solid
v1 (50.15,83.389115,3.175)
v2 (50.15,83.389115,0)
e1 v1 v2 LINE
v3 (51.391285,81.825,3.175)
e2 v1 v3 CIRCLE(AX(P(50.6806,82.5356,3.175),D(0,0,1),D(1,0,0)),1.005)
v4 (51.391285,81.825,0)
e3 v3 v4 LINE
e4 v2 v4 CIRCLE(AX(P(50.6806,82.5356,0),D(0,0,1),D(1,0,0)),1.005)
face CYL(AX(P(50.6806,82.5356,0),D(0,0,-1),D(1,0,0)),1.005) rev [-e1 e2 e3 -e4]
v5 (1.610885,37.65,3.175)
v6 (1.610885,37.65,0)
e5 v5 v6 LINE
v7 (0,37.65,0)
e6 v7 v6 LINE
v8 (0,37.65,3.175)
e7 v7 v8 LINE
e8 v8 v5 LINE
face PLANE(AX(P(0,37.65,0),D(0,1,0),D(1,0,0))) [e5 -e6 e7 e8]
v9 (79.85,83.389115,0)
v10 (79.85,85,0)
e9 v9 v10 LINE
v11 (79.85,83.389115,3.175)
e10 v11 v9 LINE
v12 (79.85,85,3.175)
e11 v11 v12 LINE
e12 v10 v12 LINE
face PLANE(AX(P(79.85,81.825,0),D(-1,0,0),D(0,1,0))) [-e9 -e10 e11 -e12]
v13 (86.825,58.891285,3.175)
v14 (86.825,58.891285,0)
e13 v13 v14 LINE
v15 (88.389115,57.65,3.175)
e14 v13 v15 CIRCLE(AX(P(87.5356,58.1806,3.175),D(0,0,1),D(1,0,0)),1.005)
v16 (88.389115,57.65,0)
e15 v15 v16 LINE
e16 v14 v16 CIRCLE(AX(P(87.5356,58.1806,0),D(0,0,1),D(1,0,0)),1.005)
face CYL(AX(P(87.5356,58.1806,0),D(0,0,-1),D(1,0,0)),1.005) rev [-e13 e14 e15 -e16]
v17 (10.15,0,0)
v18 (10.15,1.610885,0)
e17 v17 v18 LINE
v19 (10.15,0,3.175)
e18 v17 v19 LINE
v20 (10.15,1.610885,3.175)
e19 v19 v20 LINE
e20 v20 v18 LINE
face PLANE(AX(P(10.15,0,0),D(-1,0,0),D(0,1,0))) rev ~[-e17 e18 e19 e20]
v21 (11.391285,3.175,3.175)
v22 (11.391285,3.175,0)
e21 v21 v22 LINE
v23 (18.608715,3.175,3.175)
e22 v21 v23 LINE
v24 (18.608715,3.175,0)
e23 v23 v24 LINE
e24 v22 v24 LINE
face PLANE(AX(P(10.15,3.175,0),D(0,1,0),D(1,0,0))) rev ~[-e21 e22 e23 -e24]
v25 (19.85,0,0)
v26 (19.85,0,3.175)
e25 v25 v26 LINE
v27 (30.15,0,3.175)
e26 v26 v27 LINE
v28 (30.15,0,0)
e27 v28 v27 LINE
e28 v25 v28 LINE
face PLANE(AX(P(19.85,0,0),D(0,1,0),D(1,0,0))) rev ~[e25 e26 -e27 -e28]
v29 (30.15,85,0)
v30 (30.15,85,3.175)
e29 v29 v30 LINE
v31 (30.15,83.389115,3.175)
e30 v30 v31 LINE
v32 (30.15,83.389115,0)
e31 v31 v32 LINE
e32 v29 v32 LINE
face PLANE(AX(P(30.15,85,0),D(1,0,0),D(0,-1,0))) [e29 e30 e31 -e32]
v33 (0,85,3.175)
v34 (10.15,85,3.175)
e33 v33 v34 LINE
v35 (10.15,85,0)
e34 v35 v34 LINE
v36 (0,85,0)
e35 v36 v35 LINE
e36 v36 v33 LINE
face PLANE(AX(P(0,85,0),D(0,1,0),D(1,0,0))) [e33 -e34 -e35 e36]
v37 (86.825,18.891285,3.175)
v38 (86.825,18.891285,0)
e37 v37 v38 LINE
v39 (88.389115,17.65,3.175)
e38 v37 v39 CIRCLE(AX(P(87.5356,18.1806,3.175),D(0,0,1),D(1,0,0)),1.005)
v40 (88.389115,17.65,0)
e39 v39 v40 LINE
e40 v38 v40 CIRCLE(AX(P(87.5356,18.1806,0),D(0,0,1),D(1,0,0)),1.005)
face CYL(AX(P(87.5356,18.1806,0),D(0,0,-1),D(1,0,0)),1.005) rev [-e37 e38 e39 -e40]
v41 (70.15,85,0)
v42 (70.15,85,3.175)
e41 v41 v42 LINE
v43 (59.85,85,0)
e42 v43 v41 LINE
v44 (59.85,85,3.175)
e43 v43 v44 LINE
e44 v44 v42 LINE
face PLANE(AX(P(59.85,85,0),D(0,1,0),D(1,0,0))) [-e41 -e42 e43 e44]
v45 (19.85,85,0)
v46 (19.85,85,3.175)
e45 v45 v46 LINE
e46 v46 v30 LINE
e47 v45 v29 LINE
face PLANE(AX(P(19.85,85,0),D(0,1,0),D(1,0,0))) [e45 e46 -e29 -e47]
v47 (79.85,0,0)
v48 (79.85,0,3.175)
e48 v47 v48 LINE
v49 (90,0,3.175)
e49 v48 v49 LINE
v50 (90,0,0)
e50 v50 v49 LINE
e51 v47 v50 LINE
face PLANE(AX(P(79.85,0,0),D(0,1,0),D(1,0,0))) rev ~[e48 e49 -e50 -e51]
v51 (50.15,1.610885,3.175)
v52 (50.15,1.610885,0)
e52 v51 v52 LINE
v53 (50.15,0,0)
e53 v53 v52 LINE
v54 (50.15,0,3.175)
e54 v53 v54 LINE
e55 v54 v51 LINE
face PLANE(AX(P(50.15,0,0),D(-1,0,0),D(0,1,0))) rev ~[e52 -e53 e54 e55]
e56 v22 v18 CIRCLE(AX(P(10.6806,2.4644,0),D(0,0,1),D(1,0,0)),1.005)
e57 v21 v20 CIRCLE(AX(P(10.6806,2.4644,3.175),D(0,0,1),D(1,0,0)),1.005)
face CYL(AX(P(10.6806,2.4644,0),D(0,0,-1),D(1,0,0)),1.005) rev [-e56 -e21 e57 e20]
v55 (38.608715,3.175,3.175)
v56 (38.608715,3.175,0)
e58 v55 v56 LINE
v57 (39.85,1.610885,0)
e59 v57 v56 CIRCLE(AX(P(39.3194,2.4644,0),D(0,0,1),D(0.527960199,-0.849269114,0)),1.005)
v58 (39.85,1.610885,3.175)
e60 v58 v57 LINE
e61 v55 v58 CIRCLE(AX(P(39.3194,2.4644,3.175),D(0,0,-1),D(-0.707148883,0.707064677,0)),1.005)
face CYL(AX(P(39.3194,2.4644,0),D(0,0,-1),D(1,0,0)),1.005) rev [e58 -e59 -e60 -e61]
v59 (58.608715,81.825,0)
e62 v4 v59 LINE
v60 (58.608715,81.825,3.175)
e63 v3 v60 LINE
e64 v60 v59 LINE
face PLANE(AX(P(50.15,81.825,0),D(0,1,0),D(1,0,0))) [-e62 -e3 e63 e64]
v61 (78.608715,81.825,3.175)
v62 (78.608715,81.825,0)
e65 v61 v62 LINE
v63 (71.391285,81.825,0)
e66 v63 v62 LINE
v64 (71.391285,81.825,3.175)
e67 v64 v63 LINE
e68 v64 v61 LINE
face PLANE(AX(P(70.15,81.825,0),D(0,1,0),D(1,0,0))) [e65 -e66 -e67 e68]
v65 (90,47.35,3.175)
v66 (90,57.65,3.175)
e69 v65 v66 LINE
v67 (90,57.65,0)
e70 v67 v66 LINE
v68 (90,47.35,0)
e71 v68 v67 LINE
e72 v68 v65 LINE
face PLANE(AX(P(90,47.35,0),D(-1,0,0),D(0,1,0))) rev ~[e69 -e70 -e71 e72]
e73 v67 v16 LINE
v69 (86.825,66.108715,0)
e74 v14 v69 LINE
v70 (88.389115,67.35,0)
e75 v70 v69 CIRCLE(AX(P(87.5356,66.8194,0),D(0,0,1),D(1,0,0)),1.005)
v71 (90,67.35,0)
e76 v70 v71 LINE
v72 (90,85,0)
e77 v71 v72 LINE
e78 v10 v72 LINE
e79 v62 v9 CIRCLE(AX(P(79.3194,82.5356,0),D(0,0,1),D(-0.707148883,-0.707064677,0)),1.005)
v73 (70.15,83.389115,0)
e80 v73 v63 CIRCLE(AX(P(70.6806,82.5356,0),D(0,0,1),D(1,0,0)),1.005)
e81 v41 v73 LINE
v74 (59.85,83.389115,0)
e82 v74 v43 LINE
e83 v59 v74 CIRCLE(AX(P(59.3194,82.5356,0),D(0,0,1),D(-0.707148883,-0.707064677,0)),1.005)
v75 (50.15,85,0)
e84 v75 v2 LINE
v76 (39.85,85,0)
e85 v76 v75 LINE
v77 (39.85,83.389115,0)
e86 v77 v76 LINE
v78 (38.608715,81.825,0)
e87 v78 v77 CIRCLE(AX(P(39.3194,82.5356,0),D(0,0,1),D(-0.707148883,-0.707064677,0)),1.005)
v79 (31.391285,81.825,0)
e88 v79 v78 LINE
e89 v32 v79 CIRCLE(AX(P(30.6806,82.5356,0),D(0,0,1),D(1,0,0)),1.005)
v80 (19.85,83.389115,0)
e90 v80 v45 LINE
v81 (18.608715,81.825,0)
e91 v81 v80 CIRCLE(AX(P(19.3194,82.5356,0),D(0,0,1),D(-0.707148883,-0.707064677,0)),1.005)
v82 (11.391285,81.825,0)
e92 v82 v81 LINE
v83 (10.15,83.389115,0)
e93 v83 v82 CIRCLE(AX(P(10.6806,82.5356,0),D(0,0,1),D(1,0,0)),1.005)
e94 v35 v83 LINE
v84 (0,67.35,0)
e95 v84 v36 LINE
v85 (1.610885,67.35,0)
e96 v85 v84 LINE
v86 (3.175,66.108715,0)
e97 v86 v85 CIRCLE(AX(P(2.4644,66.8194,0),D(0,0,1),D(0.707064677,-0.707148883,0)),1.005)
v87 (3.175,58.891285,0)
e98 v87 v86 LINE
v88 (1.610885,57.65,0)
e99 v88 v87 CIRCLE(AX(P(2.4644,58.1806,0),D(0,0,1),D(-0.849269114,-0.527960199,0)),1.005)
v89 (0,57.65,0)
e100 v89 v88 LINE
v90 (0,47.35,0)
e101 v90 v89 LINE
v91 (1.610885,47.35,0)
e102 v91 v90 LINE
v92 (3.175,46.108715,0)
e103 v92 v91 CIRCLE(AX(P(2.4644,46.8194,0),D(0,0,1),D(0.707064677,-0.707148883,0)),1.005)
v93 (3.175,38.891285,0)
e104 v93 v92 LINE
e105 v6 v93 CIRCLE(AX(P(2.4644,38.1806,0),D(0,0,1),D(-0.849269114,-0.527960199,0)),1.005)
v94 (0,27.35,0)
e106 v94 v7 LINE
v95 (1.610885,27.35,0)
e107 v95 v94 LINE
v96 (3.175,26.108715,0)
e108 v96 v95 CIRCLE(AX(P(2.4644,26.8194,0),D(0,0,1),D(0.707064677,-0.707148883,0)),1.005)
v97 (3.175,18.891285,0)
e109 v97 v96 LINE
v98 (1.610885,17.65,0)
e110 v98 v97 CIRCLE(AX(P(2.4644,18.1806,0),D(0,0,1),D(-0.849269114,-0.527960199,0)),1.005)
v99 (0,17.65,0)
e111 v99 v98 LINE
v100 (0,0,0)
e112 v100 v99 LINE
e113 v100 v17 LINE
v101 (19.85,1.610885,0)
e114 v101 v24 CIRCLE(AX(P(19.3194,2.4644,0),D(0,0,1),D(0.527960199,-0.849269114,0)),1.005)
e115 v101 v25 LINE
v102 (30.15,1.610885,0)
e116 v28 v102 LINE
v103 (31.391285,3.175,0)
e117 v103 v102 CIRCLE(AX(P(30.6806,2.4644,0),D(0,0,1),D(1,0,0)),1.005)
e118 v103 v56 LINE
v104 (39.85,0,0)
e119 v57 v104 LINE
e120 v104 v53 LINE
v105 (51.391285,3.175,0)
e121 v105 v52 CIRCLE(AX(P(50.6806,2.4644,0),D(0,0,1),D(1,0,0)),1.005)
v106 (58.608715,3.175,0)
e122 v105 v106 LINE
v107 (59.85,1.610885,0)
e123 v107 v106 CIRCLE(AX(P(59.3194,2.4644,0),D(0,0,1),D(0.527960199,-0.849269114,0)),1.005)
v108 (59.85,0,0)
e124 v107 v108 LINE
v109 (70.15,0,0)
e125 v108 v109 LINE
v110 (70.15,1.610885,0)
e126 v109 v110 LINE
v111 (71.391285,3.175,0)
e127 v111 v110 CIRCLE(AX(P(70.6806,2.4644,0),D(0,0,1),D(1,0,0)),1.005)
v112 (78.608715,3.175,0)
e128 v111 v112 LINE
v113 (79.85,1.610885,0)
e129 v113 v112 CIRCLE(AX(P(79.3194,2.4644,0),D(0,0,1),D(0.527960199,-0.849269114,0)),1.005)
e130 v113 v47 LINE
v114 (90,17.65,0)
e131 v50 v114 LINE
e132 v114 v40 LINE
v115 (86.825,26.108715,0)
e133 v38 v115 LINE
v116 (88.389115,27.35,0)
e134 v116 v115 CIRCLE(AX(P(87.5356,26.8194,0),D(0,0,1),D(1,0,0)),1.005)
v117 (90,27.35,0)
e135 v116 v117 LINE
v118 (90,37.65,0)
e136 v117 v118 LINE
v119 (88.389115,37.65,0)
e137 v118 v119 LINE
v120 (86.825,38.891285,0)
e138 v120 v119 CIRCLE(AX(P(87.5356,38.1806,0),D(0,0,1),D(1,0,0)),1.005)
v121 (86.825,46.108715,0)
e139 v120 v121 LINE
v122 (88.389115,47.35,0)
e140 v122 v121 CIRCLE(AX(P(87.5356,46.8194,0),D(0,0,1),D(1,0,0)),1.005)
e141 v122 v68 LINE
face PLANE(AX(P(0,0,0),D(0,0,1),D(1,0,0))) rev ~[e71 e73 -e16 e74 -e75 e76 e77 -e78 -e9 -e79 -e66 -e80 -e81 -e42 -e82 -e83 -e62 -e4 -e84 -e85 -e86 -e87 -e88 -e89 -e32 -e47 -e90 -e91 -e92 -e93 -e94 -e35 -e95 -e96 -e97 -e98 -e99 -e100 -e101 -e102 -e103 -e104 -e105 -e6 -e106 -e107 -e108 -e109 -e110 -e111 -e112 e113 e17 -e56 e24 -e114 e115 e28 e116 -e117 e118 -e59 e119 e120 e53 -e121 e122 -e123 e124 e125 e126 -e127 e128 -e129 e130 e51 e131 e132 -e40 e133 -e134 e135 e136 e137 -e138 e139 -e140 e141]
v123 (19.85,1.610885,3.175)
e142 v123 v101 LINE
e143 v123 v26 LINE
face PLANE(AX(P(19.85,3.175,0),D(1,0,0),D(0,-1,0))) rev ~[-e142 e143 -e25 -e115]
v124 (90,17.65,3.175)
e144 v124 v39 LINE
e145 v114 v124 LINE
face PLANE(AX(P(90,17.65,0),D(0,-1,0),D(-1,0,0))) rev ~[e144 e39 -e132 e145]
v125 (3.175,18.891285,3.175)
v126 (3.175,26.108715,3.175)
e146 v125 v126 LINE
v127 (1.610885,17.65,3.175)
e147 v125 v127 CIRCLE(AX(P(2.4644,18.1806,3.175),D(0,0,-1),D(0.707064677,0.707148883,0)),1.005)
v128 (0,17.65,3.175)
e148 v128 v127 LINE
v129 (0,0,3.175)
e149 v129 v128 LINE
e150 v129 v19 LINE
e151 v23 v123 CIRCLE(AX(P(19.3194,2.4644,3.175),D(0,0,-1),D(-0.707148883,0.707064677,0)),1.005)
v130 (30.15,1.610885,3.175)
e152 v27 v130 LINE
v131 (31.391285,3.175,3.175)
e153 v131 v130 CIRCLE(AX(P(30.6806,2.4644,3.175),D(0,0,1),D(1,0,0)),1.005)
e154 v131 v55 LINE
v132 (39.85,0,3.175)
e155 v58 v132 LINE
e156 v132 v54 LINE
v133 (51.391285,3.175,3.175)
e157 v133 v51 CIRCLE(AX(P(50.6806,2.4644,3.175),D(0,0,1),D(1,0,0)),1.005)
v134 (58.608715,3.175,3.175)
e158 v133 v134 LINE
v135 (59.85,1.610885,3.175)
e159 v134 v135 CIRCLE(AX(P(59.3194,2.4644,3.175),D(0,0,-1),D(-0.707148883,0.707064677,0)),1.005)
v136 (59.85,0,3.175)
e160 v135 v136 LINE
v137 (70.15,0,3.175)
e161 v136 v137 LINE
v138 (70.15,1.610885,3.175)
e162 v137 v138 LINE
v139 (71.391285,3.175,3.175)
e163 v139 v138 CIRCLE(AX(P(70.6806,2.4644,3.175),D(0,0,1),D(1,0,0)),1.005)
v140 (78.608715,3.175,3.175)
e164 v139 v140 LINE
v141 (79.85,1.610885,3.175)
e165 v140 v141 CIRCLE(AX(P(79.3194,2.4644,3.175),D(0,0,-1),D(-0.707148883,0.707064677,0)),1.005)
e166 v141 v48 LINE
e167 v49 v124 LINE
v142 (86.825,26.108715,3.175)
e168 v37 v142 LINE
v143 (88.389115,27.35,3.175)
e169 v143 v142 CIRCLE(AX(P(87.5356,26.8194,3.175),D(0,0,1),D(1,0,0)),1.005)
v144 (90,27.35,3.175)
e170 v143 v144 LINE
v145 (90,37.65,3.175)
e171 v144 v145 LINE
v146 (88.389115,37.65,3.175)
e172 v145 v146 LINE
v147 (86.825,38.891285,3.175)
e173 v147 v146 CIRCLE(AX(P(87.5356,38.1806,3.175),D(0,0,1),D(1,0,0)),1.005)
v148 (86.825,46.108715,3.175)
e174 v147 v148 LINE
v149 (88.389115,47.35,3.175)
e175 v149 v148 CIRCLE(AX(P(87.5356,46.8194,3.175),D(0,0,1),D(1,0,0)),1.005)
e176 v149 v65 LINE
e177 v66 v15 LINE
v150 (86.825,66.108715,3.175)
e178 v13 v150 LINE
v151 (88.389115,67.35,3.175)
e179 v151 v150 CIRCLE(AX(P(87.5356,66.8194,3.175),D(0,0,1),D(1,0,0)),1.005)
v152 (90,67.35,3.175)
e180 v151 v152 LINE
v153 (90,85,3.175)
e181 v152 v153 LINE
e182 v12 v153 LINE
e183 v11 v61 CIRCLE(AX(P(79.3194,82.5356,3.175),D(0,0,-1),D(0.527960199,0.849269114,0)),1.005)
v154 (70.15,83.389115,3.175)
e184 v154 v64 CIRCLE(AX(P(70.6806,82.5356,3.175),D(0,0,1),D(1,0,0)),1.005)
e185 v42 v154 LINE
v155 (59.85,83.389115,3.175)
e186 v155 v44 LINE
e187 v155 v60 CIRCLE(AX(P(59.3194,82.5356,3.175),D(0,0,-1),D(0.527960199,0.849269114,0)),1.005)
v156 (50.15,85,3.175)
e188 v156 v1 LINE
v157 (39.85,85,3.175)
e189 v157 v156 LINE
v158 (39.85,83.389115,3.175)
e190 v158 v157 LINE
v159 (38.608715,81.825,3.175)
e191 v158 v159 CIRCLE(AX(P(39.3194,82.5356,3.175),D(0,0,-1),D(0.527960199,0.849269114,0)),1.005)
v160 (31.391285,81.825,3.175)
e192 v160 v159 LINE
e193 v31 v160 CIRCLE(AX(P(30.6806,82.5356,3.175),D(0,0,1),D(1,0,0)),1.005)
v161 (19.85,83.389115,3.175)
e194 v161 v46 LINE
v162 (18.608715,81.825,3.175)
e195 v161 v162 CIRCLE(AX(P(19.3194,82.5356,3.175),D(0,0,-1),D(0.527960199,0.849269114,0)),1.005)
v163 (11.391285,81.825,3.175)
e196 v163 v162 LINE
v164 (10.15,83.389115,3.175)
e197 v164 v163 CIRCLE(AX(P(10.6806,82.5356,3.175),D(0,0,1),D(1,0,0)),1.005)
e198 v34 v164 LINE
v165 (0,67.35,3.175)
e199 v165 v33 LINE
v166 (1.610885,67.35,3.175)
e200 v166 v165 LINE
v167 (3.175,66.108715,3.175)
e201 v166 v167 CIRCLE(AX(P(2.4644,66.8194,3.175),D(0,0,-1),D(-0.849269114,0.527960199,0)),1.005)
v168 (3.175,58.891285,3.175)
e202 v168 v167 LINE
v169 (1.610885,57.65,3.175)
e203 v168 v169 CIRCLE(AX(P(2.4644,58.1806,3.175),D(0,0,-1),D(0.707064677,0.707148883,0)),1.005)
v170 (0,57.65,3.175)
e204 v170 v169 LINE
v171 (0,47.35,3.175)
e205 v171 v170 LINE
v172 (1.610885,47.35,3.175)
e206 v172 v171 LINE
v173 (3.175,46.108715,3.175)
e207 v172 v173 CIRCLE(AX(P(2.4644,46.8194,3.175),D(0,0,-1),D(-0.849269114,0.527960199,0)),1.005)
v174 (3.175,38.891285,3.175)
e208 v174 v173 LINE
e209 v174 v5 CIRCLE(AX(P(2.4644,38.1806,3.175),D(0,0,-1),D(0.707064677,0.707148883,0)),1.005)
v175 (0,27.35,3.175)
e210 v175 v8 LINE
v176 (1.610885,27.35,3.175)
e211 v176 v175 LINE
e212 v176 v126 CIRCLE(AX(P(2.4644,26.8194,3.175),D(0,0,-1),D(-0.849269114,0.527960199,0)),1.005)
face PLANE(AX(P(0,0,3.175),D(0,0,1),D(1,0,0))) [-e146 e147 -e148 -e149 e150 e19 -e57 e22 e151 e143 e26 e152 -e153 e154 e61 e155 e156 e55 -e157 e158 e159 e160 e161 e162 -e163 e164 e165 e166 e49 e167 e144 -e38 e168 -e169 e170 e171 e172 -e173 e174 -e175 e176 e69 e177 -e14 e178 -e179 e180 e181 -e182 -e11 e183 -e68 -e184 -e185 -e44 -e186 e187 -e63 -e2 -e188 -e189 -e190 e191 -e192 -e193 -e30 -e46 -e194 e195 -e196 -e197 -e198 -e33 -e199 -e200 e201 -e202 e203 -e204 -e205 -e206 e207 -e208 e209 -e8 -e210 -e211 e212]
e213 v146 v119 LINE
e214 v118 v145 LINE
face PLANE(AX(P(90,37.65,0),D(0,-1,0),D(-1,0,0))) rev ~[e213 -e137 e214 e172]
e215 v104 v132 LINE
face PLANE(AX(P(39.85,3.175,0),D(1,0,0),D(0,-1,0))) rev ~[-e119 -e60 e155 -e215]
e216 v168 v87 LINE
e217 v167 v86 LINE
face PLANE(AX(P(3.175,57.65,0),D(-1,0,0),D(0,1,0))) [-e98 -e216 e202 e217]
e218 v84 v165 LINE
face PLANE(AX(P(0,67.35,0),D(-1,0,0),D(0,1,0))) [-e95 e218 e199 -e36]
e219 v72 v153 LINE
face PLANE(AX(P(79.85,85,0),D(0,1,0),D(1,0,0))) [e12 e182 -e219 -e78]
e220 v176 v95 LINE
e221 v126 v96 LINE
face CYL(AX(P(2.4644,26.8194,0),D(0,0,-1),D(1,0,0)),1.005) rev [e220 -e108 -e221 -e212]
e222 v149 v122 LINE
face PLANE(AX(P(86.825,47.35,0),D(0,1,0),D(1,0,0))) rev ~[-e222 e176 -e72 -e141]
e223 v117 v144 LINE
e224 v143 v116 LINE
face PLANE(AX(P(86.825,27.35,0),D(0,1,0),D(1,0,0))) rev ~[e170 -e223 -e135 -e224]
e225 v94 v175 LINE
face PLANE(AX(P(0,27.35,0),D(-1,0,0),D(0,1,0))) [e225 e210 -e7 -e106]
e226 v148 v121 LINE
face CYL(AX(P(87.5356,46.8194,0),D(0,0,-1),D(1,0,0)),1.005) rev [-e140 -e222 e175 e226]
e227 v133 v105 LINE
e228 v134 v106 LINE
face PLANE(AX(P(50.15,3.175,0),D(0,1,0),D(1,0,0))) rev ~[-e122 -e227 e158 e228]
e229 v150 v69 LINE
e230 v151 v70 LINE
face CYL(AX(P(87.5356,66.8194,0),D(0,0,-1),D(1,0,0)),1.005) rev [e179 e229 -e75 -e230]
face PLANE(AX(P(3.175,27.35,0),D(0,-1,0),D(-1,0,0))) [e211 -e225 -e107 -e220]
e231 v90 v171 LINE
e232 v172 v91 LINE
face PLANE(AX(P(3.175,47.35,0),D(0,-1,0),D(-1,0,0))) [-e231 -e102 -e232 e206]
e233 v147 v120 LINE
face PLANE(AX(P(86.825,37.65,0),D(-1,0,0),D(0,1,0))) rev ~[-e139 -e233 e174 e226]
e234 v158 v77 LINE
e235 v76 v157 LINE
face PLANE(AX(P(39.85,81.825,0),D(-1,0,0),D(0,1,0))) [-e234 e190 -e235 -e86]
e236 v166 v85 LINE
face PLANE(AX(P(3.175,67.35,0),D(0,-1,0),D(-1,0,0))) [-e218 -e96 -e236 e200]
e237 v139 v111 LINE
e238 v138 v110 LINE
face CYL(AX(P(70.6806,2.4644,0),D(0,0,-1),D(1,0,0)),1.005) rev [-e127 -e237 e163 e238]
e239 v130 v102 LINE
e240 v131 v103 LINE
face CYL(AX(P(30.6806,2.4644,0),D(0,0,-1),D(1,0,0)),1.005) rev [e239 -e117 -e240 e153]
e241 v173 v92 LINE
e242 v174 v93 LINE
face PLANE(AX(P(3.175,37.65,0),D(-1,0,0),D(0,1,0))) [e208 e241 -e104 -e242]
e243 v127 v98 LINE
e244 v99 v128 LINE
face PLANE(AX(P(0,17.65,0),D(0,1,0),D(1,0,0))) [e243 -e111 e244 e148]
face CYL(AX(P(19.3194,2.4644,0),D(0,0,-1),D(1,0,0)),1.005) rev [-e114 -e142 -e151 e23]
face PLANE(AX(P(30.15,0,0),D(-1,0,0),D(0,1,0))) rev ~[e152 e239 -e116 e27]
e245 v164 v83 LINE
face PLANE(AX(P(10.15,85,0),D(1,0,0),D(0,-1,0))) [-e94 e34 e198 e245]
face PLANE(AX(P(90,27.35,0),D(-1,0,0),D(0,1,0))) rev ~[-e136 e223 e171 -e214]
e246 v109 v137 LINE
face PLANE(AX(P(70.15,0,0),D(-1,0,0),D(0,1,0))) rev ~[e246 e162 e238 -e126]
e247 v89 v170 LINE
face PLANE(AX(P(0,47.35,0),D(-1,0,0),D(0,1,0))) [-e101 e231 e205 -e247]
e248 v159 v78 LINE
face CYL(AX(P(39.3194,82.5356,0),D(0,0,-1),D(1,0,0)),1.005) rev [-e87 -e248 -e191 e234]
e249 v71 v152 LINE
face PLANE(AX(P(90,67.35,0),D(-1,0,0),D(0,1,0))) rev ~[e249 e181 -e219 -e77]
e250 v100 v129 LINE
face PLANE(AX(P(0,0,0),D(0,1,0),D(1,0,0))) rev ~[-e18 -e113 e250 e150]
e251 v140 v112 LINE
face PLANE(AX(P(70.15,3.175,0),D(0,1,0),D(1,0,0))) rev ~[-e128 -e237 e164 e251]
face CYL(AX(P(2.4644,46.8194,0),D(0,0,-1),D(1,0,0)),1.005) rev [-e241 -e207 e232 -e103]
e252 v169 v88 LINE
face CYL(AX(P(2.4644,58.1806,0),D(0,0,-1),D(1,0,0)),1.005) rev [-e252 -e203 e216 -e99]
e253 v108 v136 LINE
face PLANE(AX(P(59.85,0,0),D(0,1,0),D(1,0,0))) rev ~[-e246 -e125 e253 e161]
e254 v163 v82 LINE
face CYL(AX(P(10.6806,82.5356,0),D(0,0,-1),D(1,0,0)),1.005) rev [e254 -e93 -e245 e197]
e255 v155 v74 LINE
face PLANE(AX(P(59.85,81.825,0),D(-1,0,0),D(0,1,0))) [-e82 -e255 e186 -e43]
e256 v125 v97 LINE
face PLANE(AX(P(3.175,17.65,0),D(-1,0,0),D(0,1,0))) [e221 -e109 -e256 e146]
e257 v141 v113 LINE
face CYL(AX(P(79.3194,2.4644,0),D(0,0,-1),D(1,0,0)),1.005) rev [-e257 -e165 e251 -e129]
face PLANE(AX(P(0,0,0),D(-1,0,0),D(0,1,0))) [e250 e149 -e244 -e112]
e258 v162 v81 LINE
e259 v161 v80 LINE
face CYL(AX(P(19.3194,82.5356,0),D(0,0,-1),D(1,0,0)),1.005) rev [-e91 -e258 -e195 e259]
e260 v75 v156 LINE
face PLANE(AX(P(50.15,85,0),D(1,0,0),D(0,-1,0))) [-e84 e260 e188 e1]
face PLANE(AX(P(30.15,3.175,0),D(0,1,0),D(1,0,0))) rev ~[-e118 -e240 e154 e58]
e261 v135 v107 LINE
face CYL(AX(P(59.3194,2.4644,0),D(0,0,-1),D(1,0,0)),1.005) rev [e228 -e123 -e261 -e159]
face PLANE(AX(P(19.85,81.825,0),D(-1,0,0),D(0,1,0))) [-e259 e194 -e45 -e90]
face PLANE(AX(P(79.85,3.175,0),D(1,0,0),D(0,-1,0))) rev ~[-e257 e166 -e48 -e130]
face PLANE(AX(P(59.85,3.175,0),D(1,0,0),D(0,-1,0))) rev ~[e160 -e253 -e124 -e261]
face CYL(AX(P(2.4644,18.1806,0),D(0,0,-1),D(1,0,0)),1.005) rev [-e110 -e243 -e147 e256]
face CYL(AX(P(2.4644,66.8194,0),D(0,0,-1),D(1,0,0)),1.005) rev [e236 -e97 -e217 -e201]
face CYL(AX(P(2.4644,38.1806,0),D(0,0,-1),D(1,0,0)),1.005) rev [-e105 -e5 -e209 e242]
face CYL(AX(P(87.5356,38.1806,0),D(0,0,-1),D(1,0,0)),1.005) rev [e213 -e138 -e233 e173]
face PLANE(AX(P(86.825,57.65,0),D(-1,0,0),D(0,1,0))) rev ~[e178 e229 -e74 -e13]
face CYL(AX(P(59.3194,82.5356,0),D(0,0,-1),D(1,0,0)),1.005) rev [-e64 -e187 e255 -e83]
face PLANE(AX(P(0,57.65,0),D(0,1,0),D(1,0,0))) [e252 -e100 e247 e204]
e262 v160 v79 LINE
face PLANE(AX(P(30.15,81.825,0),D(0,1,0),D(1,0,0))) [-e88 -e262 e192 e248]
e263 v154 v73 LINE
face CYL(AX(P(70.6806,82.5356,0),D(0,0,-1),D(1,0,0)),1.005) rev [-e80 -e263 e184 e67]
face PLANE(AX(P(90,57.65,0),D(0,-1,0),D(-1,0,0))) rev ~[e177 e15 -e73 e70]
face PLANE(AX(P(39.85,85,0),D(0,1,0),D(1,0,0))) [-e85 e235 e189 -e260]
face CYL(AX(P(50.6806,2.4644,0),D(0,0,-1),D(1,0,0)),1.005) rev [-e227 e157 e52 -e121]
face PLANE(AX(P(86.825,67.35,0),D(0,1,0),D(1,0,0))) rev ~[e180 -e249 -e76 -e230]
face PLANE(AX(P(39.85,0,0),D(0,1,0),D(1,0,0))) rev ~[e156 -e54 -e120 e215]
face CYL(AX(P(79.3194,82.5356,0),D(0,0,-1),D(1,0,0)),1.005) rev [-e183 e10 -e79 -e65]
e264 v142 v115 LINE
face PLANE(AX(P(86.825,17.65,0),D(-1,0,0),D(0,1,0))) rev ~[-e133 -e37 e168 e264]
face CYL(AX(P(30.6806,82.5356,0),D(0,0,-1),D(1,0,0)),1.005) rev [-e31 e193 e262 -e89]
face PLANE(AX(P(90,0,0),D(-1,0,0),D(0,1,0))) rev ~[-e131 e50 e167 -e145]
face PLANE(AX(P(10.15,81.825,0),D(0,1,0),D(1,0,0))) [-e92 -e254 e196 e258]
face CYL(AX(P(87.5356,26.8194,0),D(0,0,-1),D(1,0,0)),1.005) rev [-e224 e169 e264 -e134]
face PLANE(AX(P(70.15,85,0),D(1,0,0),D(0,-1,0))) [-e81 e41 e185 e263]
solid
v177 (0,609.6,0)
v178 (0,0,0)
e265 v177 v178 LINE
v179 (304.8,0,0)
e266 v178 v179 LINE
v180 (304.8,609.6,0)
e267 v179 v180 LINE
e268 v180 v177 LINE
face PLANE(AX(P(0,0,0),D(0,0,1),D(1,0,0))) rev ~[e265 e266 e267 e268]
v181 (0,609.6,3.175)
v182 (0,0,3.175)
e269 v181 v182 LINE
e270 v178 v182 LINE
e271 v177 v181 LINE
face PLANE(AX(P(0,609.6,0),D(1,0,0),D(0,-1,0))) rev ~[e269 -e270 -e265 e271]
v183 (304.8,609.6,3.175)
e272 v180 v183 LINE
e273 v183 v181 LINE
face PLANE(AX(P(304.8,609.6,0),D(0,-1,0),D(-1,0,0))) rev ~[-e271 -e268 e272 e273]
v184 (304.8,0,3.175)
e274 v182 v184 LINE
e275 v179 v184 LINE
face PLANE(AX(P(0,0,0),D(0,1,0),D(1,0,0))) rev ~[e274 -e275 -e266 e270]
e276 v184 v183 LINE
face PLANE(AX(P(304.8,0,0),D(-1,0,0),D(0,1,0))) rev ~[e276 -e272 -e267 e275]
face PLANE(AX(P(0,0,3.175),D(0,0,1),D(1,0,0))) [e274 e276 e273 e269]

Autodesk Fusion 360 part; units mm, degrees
sketch "b  stock" plane through (0, 0, 0) normal (0, 0, 1) x (1, 0, 0)
  line L0 (0, 0) -> (304.8, 0)
  line L1 (304.8, 0) -> (304.8, 609.6)
  line L2 (304.8, 609.6) -> (0, 609.6)
  line L3 (0, 609.6) -> (0, 0)
extrude "b  stock body extrude Feature" add sketch "b  stock" along normal blind 3.175 makes body 1
sketch "b  layout" plane through (0, 0, 0) normal (0, 0, 1) x (1, 0, 0)
  line L0 (0, 0) -> (90, 0)
  line L1 (90, 0) -> (90, 85)
  line L2 (90, 85) -> (0, 85)
  line L3 (0, 85) -> (0, 0)
  line L4 (92.01, 0) -> (182.01, 0)
  line L5 (182.01, 0) -> (182.01, 85)
  line L6 (182.01, 85) -> (92.01, 85)
  line L7 (92.01, 85) -> (92.01, 0)
  line L8 (184.02, 0) -> (234.02, 0)
  line L9 (234.02, 0) -> (234.02, 85)
  line L10 (234.02, 85) -> (184.02, 85)
  line L11 (184.02, 85) -> (184.02, 0)
  line L12 (236.03, 0) -> (286.03, 0)
  line L13 (286.03, 0) -> (286.03, 85)
  line L14 (286.03, 85) -> (236.03, 85)
  line L15 (236.03, 85) -> (236.03, 0)
  line L16 (0, 87.01) -> (90, 87.01)
  line L17 (90, 87.01) -> (90, 137.01)
  line L18 (90, 137.01) -> (0, 137.01)
  line L19 (0, 137.01) -> (0, 87.01)
  line L20 (92.01, 87.01) -> (182.01, 87.01)
  line L21 (182.01, 87.01) -> (182.01, 137.01)
  line L22 (182.01, 137.01) -> (92.01, 137.01)
  line L23 (92.01, 137.01) -> (92.01, 87.01)
sketch "b top lines" plane through (0, 0, 0) normal (0, 0, 1) x (1, 0, 0)
  line L0 (0, 0) -> (10.15, 0)
  line L1 (10.15, 0) -> (10.15, 3.175)
  line L2 (10.15, 3.175) -> (19.85, 3.175)
  line L3 (19.85, 3.175) -> (19.85, 0)
  line L4 (19.85, 0) -> (30.15, 0)
  line L5 (30.15, 0) -> (30.15, 3.175)
  line L6 (30.15, 3.175) -> (39.85, 3.175)
  line L7 (39.85, 3.175) -> (39.85, 0)
  line L8 (39.85, 0) -> (50.15, 0)
  line L9 (50.15, 0) -> (50.15, 3.175)
  line L10 (50.15, 3.175) -> (59.85, 3.175)
  line L11 (59.85, 3.175) -> (59.85, 0)
  line L12 (59.85, 0) -> (70.15, 0)
  line L13 (70.15, 0) -> (70.15, 3.175)
  line L14 (70.15, 3.175) -> (79.85, 3.175)
  line L15 (79.85, 3.175) -> (79.85, 0)
  line L16 (79.85, 0) -> (90, 0)
  line L17 (90, 0) -> (90, 17.65)
  line L18 (90, 17.65) -> (86.825, 17.65)
  line L19 (86.825, 17.65) -> (86.825, 27.35)
  line L20 (86.825, 27.35) -> (90, 27.35)
  line L21 (90, 27.35) -> (90, 37.65)
  line L22 (90, 37.65) -> (86.825, 37.65)
  line L23 (86.825, 37.65) -> (86.825, 47.35)
  line L24 (86.825, 47.35) -> (90, 47.35)
  line L25 (90, 47.35) -> (90, 57.65)
  line L26 (90, 57.65) -> (86.825, 57.65)
  line L27 (86.825, 57.65) -> (86.825, 67.35)
  line L28 (86.825, 67.35) -> (90, 67.35)
  line L29 (90, 67.35) -> (90, 85)
  line L30 (0, 85) -> (10.15, 85)
  line L31 (10.15, 85) -> (10.15, 81.825)
  line L32 (10.15, 81.825) -> (19.85, 81.825)
  line L33 (19.85, 81.825) -> (19.85, 85)
  line L34 (19.85, 85) -> (30.15, 85)
  line L35 (30.15, 85) -> (30.15, 81.825)
  line L36 (30.15, 81.825) -> (39.85, 81.825)
  line L37 (39.85, 81.825) -> (39.85, 85)
  line L38 (39.85, 85) -> (50.15, 85)
  line L39 (50.15, 85) -> (50.15, 81.825)
  line L40 (50.15, 81.825) -> (59.85, 81.825)
  line L41 (59.85, 81.825) -> (59.85, 85)
  line L42 (59.85, 85) -> (70.15, 85)
  line L43 (70.15, 85) -> (70.15, 81.825)
  line L44 (70.15, 81.825) -> (79.85, 81.825)
  line L45 (79.85, 81.825) -> (79.85, 85)
  line L46 (79.85, 85) -> (90, 85)
  line L47 (0, 0) -> (0, 17.65)
  line L48 (0, 17.65) -> (3.175, 17.65)
  line L49 (3.175, 17.65) -> (3.175, 27.35)
  line L50 (3.175, 27.35) -> (0, 27.35)
  line L51 (0, 27.35) -> (0, 37.65)
  line L52 (0, 37.65) -> (3.175, 37.65)
  line L53 (3.175, 37.65) -> (3.175, 47.35)
  line L54 (3.175, 47.35) -> (0, 47.35)
  line L55 (0, 47.35) -> (0, 57.65)
  line L56 (0, 57.65) -> (3.175, 57.65)
  line L57 (3.175, 57.65) -> (3.175, 67.35)
  line L58 (3.175, 67.35) -> (0, 67.35)
  line L59 (0, 67.35) -> (0, 85)
sketch "b top circles" plane through (0, 0, 0) normal (0, 0, 1) x (1, 0, 0)
  circle A0 centre (10.6806, 2.4644) radius 1.005
  circle A1 centre (19.3194, 2.4644) radius 1.005
  circle A2 centre (30.6806, 2.4644) radius 1.005
  circle A3 centre (39.3194, 2.4644) radius 1.005
  circle A4 centre (50.6806, 2.4644) radius 1.005
  circle A5 centre (59.3194, 2.4644) radius 1.005
  circle A6 centre (70.6806, 2.4644) radius 1.005
  circle A7 centre (79.3194, 2.4644) radius 1.005
  circle A8 centre (87.5356, 18.1806) radius 1.005
  circle A9 centre (87.5356, 26.8194) radius 1.005
  circle A10 centre (87.5356, 38.1806) radius 1.005
  circle A11 centre (87.5356, 46.8194) radius 1.005
  circle A12 centre (87.5356, 58.1806) radius 1.005
  circle A13 centre (87.5356, 66.8194) radius 1.005
  circle A14 centre (10.6806, 82.5356) radius 1.005
  circle A15 centre (19.3194, 82.5356) radius 1.005
  circle A16 centre (30.6806, 82.5356) radius 1.005
  circle A17 centre (39.3194, 82.5356) radius 1.005
  circle A18 centre (50.6806, 82.5356) radius 1.005
  circle A19 centre (59.3194, 82.5356) radius 1.005
  circle A20 centre (70.6806, 82.5356) radius 1.005
  circle A21 centre (79.3194, 82.5356) radius 1.005
  circle A22 centre (2.4644, 18.1806) radius 1.005
  circle A23 centre (2.4644, 26.8194) radius 1.005
  circle A24 centre (2.4644, 38.1806) radius 1.005
  circle A25 centre (2.4644, 46.8194) radius 1.005
  circle A26 centre (2.4644, 58.1806) radius 1.005
  circle A27 centre (2.4644, 66.8194) radius 1.005
extrude "b top lines lines extrude Feature" add sketch "b top lines" along normal blind 3.175 separate body makes body 2
extrude "b top circles circles extrude Feature" add sketch "b top circles" along normal blind 3.175 separate body makes body 3 at (3.4644, 58.0806, 2.1167) makes body 4 at (3.4644, 38.0806, 2.1167) makes body 5 at (3.4644, 18.0806, 2.1167) makes body 6 at (69.7363, 82.8794, 2.1167) makes body 7 at (49.7363, 82.8794, 2.1167) makes body 8 at (31.6067, 82.926, 2.1167) makes body 9 at (9.7363, 82.8794, 2.1167) makes body 10 at (86.5913, 67.1631, 2.1167) makes body 11 at (87.2156, 45.8667, 1.0583) makes body 12 at (87.2156, 25.8667, 1.0583) makes body 13 at (78.9993, 1.5117, 1.0583) makes body 14 at (59.2943, 3.469, 2.1167) makes body 15 at (39.2943, 3.469, 2.1167) makes body 16 at (20.3194, 2.3643, 2.1167) makes body 17 at (31.6806, 2.3643, 2.1167) makes body 18 at (50.6556, 3.469, 2.1167) makes body 19 at (70.3606, 1.5117, 1.0583) makes body 20 at (87.2156, 17.228, 1.0583) makes body 21 at (87.2156, 37.228, 1.0583) makes body 22 at (87.2156, 57.228, 1.0583) makes body 23 at (11.6806, 2.3643, 2.1167) makes body 24 at (20.2454, 82.926, 2.1167) makes body 25 at (38.375, 82.8794, 2.1167) makes body 26 at (58.375, 82.8794, 2.1167) makes body 27 at (78.375, 82.8794, 2.1167) makes body 28 at (3.4644, 26.7193, 2.1167) makes body 29 at (3.4644, 46.7193, 2.1167) makes body 30 at (3.3904, 67.2097, 2.1167)
combine "b top lines final combine feature" operation cut target body 2 tool bodies 3 4 5 6 7 8 9 10 11 12 13 14 15 16 17 18 19 20 21 22 23 24 25 26 27 28 29 30
equation "d1163 = length"
equation "d1817 = depth"
equation "d289 = platformGrommetMountDiameter"
equation "d422 = length"
equation "d423 = depth"
equation "d843 = toolDiameter"
equation "d1634 = pcbMountHoles"
equation "d1797 = ( depth - 26 mm ) / 2"
equation "d1798 = ( length - 58 mm ) / 2"
equation "d492 = length"
equation "d493 = height"
equation "d502 = length"
equation "d503 = height"
equation "d1827 = depth"
equation "d1829 = ventDiameter"
equation "d910 = depth"
equation "d911 = height"
equation "d1819 = ventDiameter"
equation "b_ = 5 mm" comment "added by script"
